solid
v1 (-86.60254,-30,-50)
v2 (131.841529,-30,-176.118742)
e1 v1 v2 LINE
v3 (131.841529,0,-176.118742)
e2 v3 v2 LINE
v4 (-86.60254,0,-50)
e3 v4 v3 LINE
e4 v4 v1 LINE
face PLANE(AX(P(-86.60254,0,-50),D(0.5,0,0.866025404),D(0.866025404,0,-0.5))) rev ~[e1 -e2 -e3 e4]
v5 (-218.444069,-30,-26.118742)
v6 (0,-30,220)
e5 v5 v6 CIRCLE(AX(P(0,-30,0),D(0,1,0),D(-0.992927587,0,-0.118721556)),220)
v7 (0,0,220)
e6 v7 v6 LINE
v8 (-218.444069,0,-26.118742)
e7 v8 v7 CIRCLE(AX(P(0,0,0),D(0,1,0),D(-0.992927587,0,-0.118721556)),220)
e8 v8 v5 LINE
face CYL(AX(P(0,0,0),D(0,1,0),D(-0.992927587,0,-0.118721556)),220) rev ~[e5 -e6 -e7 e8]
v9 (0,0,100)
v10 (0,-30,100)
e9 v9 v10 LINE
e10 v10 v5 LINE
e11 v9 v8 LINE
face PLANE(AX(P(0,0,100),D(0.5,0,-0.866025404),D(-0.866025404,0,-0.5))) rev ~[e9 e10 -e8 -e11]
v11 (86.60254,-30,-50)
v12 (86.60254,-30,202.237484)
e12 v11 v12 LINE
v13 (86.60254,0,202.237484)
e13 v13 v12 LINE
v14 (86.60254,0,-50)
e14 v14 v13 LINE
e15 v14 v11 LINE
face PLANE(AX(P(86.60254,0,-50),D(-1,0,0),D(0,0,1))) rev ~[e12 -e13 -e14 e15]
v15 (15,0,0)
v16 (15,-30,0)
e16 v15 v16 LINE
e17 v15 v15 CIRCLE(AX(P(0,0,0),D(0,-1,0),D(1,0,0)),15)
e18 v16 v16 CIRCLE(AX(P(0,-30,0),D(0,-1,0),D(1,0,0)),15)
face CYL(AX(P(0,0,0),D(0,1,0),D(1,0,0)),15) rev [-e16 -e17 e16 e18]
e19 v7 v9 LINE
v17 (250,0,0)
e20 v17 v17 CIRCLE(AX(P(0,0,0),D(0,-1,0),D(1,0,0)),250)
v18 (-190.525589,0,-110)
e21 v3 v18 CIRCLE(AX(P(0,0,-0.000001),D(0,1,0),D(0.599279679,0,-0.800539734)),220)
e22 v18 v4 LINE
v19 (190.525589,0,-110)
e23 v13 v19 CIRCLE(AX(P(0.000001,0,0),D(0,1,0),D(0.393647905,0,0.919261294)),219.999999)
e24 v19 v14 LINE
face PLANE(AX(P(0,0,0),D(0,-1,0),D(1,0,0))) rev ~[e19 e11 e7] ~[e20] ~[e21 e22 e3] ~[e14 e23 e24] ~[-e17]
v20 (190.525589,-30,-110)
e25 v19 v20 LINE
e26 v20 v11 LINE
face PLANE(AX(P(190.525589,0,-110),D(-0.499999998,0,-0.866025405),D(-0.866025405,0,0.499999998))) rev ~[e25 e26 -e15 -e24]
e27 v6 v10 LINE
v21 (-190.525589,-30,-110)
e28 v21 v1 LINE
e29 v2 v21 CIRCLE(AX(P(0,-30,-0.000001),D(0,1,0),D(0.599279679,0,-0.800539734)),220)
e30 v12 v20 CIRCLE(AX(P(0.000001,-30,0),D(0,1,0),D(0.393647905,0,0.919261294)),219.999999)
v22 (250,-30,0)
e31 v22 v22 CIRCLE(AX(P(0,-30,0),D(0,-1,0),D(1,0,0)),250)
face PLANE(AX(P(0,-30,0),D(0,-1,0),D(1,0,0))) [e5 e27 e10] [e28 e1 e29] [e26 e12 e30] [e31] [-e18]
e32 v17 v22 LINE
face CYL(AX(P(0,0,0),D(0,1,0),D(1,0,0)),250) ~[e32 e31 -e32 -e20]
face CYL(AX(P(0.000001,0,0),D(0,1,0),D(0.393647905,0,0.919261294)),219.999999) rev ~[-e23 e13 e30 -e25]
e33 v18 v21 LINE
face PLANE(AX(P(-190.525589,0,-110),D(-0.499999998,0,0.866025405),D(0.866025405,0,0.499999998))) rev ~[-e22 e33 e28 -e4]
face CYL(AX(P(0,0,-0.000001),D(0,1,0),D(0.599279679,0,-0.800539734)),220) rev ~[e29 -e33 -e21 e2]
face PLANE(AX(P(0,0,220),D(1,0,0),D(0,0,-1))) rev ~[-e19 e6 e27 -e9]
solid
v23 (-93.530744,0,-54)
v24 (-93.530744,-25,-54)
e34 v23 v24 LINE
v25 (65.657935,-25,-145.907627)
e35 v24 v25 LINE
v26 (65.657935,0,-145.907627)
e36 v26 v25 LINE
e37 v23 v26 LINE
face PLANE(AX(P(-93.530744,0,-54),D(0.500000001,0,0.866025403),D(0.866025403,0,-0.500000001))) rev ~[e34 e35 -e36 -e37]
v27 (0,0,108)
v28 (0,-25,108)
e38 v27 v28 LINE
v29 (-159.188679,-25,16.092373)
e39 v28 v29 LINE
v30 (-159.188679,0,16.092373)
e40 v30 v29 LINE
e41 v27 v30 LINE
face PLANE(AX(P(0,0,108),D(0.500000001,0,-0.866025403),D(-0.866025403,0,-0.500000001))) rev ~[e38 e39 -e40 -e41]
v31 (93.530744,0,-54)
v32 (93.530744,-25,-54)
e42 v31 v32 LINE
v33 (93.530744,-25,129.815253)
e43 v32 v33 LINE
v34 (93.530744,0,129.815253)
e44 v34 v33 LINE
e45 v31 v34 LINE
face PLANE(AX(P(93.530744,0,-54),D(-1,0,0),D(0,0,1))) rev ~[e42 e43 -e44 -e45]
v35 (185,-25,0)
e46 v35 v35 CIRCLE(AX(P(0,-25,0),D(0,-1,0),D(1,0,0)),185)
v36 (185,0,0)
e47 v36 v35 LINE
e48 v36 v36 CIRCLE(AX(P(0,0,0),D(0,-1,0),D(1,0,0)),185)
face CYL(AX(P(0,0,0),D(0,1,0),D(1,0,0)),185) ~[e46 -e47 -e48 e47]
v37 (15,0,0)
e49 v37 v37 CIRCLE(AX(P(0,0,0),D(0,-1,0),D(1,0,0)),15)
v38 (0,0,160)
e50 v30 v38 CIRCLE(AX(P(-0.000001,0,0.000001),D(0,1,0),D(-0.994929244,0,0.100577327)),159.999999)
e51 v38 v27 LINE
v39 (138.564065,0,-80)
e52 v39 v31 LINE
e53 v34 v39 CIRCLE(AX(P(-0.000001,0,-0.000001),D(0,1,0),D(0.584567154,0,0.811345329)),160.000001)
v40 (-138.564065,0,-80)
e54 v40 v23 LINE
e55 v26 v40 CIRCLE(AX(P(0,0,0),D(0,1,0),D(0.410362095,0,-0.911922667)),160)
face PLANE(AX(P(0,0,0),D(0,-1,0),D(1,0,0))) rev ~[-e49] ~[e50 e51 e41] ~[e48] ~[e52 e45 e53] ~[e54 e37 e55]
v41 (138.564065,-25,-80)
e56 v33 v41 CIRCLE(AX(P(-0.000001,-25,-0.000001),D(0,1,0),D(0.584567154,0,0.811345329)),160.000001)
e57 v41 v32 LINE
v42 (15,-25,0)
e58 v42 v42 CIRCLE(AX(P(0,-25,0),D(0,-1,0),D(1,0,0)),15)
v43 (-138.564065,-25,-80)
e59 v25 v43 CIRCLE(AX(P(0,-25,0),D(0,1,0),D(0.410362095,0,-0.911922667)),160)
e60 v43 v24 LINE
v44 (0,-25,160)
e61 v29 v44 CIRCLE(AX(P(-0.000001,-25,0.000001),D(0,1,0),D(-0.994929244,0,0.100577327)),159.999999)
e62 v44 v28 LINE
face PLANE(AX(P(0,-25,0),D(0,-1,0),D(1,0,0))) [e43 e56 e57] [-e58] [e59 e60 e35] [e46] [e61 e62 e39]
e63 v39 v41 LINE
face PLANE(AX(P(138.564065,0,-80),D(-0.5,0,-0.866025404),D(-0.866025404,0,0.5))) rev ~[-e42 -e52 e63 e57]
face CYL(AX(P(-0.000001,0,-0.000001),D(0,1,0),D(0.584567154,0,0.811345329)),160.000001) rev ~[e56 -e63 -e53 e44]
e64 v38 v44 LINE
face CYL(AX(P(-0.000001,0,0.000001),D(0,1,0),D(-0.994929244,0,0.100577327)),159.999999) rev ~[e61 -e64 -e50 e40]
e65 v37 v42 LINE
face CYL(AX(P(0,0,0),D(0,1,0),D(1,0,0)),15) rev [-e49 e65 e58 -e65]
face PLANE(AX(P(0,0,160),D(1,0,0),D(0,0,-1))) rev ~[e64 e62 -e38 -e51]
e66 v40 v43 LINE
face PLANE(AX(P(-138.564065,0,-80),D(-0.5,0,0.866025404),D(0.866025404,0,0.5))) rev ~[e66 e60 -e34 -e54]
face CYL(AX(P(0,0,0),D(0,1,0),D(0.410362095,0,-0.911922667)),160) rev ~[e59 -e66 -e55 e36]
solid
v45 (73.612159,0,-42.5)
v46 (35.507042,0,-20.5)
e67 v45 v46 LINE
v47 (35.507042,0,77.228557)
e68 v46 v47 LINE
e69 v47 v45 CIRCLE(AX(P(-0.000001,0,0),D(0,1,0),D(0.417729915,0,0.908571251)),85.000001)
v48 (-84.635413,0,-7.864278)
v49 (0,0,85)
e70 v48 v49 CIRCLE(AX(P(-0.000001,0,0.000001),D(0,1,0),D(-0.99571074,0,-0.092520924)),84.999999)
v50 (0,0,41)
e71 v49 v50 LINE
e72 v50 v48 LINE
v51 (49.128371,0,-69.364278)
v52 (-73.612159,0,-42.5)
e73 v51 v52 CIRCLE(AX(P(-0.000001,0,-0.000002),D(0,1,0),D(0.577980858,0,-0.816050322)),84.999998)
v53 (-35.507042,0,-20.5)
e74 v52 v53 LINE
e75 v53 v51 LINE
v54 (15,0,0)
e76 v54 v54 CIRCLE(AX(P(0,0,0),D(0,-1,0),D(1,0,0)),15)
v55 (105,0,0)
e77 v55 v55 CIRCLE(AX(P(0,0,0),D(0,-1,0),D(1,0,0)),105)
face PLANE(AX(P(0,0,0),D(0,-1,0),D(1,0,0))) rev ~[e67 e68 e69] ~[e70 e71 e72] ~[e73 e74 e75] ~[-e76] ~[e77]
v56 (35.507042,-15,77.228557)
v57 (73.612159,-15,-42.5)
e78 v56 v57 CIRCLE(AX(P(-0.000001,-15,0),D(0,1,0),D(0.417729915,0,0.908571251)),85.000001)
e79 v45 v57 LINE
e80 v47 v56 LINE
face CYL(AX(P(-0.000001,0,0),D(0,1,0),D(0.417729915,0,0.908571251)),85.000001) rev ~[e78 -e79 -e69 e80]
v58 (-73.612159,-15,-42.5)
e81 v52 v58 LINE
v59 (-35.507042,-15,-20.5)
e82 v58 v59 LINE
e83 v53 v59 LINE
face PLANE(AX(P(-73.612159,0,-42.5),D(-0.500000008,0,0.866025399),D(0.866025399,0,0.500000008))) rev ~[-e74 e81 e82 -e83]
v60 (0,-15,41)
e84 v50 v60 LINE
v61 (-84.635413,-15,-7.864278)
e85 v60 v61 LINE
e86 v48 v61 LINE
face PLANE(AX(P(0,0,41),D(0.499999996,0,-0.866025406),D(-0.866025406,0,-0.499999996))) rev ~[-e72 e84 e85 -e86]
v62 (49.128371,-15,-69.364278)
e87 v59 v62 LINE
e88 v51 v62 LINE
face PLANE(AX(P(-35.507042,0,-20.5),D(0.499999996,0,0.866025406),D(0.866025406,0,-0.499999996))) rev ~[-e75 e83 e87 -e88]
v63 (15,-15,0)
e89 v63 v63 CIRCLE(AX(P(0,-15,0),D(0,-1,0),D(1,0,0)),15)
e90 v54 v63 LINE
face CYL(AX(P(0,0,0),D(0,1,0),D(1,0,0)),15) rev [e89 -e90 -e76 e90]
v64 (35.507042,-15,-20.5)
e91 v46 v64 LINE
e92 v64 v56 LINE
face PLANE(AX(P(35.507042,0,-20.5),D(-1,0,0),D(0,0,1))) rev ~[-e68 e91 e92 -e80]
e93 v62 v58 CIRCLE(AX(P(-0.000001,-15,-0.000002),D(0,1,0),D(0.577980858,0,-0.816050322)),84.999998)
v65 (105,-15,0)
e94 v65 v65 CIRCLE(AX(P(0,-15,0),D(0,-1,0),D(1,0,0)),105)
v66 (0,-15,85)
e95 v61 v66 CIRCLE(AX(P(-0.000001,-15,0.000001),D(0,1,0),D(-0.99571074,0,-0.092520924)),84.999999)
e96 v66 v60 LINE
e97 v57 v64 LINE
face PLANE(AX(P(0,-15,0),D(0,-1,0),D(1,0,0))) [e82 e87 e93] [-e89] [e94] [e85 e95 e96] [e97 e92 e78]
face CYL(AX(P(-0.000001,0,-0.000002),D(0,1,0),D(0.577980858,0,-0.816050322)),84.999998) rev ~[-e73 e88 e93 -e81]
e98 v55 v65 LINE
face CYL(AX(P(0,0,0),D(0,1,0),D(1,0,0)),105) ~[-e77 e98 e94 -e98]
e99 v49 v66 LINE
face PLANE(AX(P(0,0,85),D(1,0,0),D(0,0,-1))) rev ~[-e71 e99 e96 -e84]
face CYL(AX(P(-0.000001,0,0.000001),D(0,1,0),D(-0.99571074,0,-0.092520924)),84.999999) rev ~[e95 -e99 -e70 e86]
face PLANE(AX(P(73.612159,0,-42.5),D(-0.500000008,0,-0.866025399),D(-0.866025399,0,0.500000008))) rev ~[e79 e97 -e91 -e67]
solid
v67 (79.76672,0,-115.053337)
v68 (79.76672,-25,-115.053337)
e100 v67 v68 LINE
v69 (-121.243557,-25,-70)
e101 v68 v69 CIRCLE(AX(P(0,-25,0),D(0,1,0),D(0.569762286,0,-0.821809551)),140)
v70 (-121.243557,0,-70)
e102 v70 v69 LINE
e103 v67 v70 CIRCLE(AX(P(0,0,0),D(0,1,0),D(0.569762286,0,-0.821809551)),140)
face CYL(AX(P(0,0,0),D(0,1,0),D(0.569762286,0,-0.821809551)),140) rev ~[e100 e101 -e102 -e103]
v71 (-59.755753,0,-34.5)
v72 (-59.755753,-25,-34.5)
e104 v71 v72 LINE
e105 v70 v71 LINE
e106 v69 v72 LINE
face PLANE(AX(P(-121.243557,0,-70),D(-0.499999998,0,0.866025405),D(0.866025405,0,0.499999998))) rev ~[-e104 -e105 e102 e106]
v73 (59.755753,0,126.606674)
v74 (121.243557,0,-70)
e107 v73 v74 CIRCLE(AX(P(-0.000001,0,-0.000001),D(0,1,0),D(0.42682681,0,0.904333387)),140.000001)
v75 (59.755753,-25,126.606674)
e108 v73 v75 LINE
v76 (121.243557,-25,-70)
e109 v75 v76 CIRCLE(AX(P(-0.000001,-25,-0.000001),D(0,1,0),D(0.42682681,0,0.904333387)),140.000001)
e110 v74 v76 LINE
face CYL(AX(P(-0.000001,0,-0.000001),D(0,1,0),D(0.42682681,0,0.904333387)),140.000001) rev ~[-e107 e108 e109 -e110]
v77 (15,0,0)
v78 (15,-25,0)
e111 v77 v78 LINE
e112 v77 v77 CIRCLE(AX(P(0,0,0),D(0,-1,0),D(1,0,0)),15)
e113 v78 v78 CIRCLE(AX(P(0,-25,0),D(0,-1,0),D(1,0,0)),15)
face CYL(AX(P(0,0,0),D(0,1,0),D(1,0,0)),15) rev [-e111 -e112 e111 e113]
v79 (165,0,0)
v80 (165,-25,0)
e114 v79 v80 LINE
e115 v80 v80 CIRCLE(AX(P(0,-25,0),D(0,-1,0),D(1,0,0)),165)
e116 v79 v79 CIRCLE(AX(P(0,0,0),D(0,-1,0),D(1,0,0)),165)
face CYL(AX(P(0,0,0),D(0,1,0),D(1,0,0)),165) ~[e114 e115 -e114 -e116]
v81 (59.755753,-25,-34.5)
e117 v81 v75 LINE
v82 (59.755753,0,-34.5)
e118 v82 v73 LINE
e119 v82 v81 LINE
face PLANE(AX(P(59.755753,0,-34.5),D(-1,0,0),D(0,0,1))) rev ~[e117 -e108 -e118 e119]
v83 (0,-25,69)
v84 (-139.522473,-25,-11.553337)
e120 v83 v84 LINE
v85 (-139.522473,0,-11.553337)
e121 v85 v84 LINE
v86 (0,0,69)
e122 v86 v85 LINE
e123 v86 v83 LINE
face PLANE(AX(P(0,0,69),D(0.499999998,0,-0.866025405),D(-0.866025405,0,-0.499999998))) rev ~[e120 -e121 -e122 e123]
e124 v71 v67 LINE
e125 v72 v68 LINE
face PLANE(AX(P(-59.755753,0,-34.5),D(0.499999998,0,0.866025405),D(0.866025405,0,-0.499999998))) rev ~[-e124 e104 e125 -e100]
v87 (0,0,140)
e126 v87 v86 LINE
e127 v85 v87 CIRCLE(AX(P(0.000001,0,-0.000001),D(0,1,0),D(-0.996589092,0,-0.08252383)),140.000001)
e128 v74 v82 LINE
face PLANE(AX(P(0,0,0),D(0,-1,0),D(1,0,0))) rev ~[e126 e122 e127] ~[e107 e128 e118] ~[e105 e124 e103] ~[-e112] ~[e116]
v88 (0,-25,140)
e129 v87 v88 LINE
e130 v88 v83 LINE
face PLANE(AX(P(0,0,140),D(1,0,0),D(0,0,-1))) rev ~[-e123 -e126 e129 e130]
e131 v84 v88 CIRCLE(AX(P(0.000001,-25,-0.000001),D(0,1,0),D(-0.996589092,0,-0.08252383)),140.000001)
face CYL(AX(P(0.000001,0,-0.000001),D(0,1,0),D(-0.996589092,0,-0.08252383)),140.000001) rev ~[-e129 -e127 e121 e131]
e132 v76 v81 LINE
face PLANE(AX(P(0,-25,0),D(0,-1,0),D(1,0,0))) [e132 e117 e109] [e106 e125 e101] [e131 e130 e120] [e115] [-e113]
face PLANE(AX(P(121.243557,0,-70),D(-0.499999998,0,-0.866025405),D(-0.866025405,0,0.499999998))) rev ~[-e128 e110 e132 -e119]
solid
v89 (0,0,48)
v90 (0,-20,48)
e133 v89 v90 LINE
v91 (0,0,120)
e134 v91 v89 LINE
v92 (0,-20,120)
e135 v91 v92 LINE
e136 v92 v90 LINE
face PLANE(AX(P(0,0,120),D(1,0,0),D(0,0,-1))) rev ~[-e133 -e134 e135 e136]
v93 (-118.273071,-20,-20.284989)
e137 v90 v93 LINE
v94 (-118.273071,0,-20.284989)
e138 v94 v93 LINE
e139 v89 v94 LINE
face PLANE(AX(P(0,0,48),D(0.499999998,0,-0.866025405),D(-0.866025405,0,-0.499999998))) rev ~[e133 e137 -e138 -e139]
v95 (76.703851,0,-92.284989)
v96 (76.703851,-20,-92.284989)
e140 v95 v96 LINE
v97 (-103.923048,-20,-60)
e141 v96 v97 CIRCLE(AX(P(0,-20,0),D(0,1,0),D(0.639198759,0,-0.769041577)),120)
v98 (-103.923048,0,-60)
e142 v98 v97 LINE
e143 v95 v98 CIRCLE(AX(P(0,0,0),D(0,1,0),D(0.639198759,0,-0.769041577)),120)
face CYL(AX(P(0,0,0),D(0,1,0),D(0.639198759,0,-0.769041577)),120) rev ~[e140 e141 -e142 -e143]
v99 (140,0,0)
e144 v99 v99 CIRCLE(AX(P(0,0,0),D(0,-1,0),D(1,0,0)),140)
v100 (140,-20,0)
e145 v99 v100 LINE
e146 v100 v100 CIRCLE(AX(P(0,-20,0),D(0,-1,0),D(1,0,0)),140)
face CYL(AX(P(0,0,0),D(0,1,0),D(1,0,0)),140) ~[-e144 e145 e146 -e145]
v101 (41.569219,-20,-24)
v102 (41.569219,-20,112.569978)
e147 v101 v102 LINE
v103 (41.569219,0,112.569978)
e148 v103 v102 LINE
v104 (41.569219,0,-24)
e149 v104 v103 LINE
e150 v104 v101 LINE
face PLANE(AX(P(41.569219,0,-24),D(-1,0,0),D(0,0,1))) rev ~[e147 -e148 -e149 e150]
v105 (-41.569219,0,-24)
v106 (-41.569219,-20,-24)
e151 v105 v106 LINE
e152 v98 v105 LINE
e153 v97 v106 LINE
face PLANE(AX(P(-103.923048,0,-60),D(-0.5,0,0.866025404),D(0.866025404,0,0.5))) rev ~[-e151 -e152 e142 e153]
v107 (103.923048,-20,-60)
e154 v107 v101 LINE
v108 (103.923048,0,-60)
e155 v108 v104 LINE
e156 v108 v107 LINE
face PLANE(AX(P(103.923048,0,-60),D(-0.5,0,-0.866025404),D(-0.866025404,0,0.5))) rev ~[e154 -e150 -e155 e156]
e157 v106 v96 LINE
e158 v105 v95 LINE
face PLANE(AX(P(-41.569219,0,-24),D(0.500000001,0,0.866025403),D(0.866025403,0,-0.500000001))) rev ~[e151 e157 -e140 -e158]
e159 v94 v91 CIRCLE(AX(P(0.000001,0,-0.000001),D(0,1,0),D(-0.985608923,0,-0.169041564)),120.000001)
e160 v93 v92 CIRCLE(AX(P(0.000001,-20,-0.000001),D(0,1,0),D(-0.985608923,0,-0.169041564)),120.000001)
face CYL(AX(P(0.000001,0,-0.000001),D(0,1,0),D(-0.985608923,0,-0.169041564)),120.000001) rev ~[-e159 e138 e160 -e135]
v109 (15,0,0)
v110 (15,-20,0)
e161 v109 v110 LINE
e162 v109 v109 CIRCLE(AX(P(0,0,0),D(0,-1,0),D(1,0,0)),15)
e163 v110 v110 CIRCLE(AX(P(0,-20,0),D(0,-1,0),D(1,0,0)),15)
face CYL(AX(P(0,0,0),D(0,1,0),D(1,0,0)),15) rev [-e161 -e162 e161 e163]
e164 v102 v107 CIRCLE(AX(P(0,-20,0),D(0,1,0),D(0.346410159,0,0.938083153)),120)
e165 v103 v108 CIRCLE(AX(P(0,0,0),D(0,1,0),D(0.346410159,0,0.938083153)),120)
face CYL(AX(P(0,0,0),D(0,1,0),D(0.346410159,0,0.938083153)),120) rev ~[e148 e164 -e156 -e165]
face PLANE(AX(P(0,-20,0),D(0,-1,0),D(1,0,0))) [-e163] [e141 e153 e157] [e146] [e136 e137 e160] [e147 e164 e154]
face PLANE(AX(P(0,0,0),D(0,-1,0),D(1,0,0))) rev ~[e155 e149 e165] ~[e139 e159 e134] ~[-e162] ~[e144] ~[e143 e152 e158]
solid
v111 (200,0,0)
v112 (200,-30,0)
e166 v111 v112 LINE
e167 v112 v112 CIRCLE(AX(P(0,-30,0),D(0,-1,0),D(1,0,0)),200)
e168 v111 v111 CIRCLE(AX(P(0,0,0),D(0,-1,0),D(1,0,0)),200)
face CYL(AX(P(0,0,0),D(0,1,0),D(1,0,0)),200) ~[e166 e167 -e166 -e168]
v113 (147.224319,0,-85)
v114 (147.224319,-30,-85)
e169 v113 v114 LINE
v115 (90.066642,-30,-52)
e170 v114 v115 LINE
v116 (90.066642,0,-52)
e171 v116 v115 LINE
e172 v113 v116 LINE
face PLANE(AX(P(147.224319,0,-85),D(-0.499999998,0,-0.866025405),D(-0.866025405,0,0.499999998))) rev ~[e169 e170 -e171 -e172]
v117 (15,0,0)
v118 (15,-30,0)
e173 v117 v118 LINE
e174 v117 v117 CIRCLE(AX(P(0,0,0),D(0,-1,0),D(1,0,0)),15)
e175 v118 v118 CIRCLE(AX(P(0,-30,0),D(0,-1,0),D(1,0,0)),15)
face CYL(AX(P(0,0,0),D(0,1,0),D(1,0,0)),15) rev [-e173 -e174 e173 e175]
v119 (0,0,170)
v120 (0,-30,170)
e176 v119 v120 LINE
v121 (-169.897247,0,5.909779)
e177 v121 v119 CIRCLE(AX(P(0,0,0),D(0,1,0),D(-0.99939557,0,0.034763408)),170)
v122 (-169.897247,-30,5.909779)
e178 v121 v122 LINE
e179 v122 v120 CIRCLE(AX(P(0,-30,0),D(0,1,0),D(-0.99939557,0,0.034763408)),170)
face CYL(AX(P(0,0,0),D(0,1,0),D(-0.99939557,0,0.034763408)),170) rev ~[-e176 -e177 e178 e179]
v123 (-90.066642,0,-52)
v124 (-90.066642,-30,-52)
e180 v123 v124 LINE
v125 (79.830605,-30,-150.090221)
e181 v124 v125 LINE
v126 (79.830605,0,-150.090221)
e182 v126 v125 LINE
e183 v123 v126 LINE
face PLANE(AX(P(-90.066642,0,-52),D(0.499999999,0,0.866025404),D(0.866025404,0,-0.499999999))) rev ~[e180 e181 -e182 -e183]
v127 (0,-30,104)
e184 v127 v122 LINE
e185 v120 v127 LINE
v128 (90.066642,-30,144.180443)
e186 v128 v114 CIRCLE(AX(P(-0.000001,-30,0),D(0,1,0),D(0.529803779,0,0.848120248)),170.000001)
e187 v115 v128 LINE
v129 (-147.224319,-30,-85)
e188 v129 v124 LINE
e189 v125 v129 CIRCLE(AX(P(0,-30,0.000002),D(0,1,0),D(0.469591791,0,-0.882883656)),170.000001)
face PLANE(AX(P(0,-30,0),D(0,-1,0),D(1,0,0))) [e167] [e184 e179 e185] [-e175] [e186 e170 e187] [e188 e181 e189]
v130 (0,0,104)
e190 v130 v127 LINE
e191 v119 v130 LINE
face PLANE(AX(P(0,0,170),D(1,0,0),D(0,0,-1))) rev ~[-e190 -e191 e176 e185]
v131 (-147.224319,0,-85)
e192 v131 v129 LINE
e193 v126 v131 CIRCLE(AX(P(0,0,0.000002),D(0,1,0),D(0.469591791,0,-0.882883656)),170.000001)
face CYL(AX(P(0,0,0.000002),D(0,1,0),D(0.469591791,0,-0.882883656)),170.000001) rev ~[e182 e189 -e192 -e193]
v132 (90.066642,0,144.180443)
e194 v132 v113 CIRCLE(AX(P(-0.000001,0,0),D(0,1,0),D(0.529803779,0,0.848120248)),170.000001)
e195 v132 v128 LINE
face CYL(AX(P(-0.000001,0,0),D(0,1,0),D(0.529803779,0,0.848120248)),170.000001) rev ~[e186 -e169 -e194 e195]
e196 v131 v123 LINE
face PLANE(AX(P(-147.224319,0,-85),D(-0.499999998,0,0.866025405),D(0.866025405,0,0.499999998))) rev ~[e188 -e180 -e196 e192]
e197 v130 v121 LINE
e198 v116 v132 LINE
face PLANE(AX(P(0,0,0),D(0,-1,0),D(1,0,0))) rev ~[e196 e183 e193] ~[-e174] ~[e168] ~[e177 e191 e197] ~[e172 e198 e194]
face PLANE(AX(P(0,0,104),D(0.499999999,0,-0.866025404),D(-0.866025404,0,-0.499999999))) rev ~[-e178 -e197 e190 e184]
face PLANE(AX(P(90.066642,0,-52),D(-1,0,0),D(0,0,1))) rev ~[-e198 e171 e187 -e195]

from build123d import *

# Parameters (mm, degrees)
F0_R      = 250
F0_R_2    = 15
F1_DEPTH  = 30
F2_R      = 200
F2_R_2    = 15
F3_DEPTH  = 30
F4_R      = 185
F4_R_2    = 15
F5_DEPTH  = 25
F6_R      = 165
F6_R_2    = 15
F7_DEPTH  = 25
F8_R      = 140
F8_R_2    = 15
F9_DEPTH  = 20
F10_R     = 105
F10_R_2   = 15
F11_DEPTH = 15


with BuildPart() as f1:
    # F0 (on Front) → F1 (new body)
    with BuildSketch(Plane.XZ):
        Circle(F0_R)
        with BuildLine():
            Line((-190.525589, -110), (-86.60254, -50))
            Line((-86.60254, -50), (131.841529, -176.118742))
            ThreePointArc((131.841529, -176.118742), (-44.202678, -215.513627), (-190.525589, -110))
        make_face(mode=Mode.SUBTRACT)
        with BuildLine():
            ThreePointArc((-218.444069, -26.118742), (-164.538937, 146.037455), (0, 220))
            Line((0, 220), (0, 100))
            Line((0, 100), (-218.444069, -26.118742))
        make_face(mode=Mode.SUBTRACT)
        Circle(F0_R_2, mode=Mode.SUBTRACT)
        with BuildLine():
            Line((190.525589, -110), (86.60254, -50))
            Line((86.60254, -50), (86.60254, 202.237484))
            ThreePointArc((86.60254, 202.237484), (208.741615, 69.476171), (190.525589, -110))
        make_face(mode=Mode.SUBTRACT)
    extrude(amount=F1_DEPTH)


with BuildPart() as f3:
    # F2 (on Front) → F3 (new body)
    with BuildSketch(Plane.XZ):
        Circle(F2_R)
        with BuildLine():
            ThreePointArc((79.830605, -150.090221), (-46.847224, -163.417678), (-147.224319, -85))
            Line((-147.224319, -85), (-90.066642, -52))
            Line((-90.066642, -52), (79.830605, -150.090221))
        make_face(mode=Mode.SUBTRACT)
        with BuildLine():
            ThreePointArc((-169.897247, 5.909779), (-118.100249, 122.279725), (0, 170))
            Line((0, 170), (0, 104))
            Line((0, 104), (-169.897247, 5.909779))
        make_face(mode=Mode.SUBTRACT)
        Circle(F2_R_2, mode=Mode.SUBTRACT)
        with BuildLine():
            ThreePointArc((90.066642, 144.180443), (164.947473, 41.137953), (147.224319, -85))
            Line((147.224319, -85), (90.066642, -52))
            Line((90.066642, -52), (90.066642, 144.180443))
        make_face(mode=Mode.SUBTRACT)
    extrude(amount=F3_DEPTH)


with BuildPart() as f5:
    # F4 (on Front) → F5 (new body)
    with BuildSketch(Plane.XZ):
        Circle(F4_R)
        with BuildLine():
            ThreePointArc((65.657935, -145.907627), (-49.140408, -152.266938), (-138.564065, -80))
            Line((-138.564065, -80), (-93.530744, -54))
            Line((-93.530744, -54), (65.657935, -145.907627))
        make_face(mode=Mode.SUBTRACT)
        with BuildLine():
            ThreePointArc((-159.188679, 16.092373), (-107.296832, 118.690311), (0, 160))
            Line((0, 160), (0, 108))
            Line((0, 108), (-159.188679, 16.092373))
        make_face(mode=Mode.SUBTRACT)
        Circle(F4_R_2, mode=Mode.SUBTRACT)
        with BuildLine():
            ThreePointArc((93.530744, 129.815253), (156.43724, 33.576627), (138.564065, -80))
            Line((138.564065, -80), (93.530744, -54))
            Line((93.530744, -54), (93.530744, 129.815253))
        make_face(mode=Mode.SUBTRACT)
    extrude(amount=F5_DEPTH)


with BuildPart() as f7:
    # F6 (on Front) → F7 (new body)
    with BuildSketch(Plane.XZ):
        Circle(F6_R)
        with BuildLine():
            ThreePointArc((79.76672, -115.053337), (-30.619157, -136.610641), (-121.243557, -70))
            Line((-121.243557, -70), (-59.755753, -34.5))
            Line((-59.755753, -34.5), (79.76672, -115.053337))
        make_face(mode=Mode.SUBTRACT)
        with BuildLine():
            ThreePointArc((-139.522473, -11.553337), (-102.998707, 94.822288), (0, 140))
            Line((0, 140), (0, 69))
            Line((0, 69), (-139.522473, -11.553337))
        make_face(mode=Mode.SUBTRACT)
        Circle(F6_R_2, mode=Mode.SUBTRACT)
        with BuildLine():
            ThreePointArc((59.755753, 126.606674), (133.617864, 41.788352), (121.243557, -70))
            Line((121.243557, -70), (59.755753, -34.5))
            Line((59.755753, -34.5), (59.755753, 126.606674))
        make_face(mode=Mode.SUBTRACT)
    extrude(amount=F7_DEPTH)


with BuildPart() as f9:
    # F8 (on Front) → F9 (new body)
    with BuildSketch(Plane.XZ):
        Circle(F8_R)
        with BuildLine():
            ThreePointArc((76.703851, -92.284989), (-21.114007, -118.127891), (-103.923048, -60))
            Line((-103.923048, -60), (-41.569219, -24))
            Line((-41.569219, -24), (76.703851, -92.284989))
        make_face(mode=Mode.SUBTRACT)
        with BuildLine():
            ThreePointArc((-118.273071, -20.284989), (-91.744751, 77.349212), (0, 120))
            Line((0, 120), (0, 48))
            Line((0, 48), (-118.273071, -20.284989))
        make_face(mode=Mode.SUBTRACT)
        Circle(F8_R_2, mode=Mode.SUBTRACT)
        with BuildLine():
            ThreePointArc((41.569219, 112.569978), (112.858758, 40.778679), (103.923048, -60))
            Line((103.923048, -60), (41.569219, -24))
            Line((41.569219, -24), (41.569219, 112.569978))
        make_face(mode=Mode.SUBTRACT)
    extrude(amount=F9_DEPTH)


with BuildPart() as f11:
    # F10 (on Front) → F11 (new body)
    with BuildSketch(Plane.XZ):
        Circle(F10_R)
        with BuildLine():
            ThreePointArc((49.128371, -69.364278), (-18.173781, -83.034413), (-73.612159, -42.5))
            Line((-73.612159, -42.5), (-35.507042, -20.5))
            Line((-35.507042, -20.5), (49.128371, -69.364278))
        make_face(mode=Mode.SUBTRACT)
        with BuildLine():
            ThreePointArc((-84.635413, -7.864278), (-62.82302, 57.256163), (0, 85))
            Line((0, 85), (0, 41))
            Line((0, 41), (-84.635413, -7.864278))
        make_face(mode=Mode.SUBTRACT)
        Circle(F10_R_2, mode=Mode.SUBTRACT)
        with BuildLine():
            ThreePointArc((35.507042, 77.228557), (80.996801, 25.77825), (73.612159, -42.5))
            Line((73.612159, -42.5), (35.507042, -20.5))
            Line((35.507042, -20.5), (35.507042, 77.228557))
        make_face(mode=Mode.SUBTRACT)
    extrude(amount=F11_DEPTH)


solid = Compound([f1.part, f3.part, f5.part, f7.part, f9.part, f11.part])
